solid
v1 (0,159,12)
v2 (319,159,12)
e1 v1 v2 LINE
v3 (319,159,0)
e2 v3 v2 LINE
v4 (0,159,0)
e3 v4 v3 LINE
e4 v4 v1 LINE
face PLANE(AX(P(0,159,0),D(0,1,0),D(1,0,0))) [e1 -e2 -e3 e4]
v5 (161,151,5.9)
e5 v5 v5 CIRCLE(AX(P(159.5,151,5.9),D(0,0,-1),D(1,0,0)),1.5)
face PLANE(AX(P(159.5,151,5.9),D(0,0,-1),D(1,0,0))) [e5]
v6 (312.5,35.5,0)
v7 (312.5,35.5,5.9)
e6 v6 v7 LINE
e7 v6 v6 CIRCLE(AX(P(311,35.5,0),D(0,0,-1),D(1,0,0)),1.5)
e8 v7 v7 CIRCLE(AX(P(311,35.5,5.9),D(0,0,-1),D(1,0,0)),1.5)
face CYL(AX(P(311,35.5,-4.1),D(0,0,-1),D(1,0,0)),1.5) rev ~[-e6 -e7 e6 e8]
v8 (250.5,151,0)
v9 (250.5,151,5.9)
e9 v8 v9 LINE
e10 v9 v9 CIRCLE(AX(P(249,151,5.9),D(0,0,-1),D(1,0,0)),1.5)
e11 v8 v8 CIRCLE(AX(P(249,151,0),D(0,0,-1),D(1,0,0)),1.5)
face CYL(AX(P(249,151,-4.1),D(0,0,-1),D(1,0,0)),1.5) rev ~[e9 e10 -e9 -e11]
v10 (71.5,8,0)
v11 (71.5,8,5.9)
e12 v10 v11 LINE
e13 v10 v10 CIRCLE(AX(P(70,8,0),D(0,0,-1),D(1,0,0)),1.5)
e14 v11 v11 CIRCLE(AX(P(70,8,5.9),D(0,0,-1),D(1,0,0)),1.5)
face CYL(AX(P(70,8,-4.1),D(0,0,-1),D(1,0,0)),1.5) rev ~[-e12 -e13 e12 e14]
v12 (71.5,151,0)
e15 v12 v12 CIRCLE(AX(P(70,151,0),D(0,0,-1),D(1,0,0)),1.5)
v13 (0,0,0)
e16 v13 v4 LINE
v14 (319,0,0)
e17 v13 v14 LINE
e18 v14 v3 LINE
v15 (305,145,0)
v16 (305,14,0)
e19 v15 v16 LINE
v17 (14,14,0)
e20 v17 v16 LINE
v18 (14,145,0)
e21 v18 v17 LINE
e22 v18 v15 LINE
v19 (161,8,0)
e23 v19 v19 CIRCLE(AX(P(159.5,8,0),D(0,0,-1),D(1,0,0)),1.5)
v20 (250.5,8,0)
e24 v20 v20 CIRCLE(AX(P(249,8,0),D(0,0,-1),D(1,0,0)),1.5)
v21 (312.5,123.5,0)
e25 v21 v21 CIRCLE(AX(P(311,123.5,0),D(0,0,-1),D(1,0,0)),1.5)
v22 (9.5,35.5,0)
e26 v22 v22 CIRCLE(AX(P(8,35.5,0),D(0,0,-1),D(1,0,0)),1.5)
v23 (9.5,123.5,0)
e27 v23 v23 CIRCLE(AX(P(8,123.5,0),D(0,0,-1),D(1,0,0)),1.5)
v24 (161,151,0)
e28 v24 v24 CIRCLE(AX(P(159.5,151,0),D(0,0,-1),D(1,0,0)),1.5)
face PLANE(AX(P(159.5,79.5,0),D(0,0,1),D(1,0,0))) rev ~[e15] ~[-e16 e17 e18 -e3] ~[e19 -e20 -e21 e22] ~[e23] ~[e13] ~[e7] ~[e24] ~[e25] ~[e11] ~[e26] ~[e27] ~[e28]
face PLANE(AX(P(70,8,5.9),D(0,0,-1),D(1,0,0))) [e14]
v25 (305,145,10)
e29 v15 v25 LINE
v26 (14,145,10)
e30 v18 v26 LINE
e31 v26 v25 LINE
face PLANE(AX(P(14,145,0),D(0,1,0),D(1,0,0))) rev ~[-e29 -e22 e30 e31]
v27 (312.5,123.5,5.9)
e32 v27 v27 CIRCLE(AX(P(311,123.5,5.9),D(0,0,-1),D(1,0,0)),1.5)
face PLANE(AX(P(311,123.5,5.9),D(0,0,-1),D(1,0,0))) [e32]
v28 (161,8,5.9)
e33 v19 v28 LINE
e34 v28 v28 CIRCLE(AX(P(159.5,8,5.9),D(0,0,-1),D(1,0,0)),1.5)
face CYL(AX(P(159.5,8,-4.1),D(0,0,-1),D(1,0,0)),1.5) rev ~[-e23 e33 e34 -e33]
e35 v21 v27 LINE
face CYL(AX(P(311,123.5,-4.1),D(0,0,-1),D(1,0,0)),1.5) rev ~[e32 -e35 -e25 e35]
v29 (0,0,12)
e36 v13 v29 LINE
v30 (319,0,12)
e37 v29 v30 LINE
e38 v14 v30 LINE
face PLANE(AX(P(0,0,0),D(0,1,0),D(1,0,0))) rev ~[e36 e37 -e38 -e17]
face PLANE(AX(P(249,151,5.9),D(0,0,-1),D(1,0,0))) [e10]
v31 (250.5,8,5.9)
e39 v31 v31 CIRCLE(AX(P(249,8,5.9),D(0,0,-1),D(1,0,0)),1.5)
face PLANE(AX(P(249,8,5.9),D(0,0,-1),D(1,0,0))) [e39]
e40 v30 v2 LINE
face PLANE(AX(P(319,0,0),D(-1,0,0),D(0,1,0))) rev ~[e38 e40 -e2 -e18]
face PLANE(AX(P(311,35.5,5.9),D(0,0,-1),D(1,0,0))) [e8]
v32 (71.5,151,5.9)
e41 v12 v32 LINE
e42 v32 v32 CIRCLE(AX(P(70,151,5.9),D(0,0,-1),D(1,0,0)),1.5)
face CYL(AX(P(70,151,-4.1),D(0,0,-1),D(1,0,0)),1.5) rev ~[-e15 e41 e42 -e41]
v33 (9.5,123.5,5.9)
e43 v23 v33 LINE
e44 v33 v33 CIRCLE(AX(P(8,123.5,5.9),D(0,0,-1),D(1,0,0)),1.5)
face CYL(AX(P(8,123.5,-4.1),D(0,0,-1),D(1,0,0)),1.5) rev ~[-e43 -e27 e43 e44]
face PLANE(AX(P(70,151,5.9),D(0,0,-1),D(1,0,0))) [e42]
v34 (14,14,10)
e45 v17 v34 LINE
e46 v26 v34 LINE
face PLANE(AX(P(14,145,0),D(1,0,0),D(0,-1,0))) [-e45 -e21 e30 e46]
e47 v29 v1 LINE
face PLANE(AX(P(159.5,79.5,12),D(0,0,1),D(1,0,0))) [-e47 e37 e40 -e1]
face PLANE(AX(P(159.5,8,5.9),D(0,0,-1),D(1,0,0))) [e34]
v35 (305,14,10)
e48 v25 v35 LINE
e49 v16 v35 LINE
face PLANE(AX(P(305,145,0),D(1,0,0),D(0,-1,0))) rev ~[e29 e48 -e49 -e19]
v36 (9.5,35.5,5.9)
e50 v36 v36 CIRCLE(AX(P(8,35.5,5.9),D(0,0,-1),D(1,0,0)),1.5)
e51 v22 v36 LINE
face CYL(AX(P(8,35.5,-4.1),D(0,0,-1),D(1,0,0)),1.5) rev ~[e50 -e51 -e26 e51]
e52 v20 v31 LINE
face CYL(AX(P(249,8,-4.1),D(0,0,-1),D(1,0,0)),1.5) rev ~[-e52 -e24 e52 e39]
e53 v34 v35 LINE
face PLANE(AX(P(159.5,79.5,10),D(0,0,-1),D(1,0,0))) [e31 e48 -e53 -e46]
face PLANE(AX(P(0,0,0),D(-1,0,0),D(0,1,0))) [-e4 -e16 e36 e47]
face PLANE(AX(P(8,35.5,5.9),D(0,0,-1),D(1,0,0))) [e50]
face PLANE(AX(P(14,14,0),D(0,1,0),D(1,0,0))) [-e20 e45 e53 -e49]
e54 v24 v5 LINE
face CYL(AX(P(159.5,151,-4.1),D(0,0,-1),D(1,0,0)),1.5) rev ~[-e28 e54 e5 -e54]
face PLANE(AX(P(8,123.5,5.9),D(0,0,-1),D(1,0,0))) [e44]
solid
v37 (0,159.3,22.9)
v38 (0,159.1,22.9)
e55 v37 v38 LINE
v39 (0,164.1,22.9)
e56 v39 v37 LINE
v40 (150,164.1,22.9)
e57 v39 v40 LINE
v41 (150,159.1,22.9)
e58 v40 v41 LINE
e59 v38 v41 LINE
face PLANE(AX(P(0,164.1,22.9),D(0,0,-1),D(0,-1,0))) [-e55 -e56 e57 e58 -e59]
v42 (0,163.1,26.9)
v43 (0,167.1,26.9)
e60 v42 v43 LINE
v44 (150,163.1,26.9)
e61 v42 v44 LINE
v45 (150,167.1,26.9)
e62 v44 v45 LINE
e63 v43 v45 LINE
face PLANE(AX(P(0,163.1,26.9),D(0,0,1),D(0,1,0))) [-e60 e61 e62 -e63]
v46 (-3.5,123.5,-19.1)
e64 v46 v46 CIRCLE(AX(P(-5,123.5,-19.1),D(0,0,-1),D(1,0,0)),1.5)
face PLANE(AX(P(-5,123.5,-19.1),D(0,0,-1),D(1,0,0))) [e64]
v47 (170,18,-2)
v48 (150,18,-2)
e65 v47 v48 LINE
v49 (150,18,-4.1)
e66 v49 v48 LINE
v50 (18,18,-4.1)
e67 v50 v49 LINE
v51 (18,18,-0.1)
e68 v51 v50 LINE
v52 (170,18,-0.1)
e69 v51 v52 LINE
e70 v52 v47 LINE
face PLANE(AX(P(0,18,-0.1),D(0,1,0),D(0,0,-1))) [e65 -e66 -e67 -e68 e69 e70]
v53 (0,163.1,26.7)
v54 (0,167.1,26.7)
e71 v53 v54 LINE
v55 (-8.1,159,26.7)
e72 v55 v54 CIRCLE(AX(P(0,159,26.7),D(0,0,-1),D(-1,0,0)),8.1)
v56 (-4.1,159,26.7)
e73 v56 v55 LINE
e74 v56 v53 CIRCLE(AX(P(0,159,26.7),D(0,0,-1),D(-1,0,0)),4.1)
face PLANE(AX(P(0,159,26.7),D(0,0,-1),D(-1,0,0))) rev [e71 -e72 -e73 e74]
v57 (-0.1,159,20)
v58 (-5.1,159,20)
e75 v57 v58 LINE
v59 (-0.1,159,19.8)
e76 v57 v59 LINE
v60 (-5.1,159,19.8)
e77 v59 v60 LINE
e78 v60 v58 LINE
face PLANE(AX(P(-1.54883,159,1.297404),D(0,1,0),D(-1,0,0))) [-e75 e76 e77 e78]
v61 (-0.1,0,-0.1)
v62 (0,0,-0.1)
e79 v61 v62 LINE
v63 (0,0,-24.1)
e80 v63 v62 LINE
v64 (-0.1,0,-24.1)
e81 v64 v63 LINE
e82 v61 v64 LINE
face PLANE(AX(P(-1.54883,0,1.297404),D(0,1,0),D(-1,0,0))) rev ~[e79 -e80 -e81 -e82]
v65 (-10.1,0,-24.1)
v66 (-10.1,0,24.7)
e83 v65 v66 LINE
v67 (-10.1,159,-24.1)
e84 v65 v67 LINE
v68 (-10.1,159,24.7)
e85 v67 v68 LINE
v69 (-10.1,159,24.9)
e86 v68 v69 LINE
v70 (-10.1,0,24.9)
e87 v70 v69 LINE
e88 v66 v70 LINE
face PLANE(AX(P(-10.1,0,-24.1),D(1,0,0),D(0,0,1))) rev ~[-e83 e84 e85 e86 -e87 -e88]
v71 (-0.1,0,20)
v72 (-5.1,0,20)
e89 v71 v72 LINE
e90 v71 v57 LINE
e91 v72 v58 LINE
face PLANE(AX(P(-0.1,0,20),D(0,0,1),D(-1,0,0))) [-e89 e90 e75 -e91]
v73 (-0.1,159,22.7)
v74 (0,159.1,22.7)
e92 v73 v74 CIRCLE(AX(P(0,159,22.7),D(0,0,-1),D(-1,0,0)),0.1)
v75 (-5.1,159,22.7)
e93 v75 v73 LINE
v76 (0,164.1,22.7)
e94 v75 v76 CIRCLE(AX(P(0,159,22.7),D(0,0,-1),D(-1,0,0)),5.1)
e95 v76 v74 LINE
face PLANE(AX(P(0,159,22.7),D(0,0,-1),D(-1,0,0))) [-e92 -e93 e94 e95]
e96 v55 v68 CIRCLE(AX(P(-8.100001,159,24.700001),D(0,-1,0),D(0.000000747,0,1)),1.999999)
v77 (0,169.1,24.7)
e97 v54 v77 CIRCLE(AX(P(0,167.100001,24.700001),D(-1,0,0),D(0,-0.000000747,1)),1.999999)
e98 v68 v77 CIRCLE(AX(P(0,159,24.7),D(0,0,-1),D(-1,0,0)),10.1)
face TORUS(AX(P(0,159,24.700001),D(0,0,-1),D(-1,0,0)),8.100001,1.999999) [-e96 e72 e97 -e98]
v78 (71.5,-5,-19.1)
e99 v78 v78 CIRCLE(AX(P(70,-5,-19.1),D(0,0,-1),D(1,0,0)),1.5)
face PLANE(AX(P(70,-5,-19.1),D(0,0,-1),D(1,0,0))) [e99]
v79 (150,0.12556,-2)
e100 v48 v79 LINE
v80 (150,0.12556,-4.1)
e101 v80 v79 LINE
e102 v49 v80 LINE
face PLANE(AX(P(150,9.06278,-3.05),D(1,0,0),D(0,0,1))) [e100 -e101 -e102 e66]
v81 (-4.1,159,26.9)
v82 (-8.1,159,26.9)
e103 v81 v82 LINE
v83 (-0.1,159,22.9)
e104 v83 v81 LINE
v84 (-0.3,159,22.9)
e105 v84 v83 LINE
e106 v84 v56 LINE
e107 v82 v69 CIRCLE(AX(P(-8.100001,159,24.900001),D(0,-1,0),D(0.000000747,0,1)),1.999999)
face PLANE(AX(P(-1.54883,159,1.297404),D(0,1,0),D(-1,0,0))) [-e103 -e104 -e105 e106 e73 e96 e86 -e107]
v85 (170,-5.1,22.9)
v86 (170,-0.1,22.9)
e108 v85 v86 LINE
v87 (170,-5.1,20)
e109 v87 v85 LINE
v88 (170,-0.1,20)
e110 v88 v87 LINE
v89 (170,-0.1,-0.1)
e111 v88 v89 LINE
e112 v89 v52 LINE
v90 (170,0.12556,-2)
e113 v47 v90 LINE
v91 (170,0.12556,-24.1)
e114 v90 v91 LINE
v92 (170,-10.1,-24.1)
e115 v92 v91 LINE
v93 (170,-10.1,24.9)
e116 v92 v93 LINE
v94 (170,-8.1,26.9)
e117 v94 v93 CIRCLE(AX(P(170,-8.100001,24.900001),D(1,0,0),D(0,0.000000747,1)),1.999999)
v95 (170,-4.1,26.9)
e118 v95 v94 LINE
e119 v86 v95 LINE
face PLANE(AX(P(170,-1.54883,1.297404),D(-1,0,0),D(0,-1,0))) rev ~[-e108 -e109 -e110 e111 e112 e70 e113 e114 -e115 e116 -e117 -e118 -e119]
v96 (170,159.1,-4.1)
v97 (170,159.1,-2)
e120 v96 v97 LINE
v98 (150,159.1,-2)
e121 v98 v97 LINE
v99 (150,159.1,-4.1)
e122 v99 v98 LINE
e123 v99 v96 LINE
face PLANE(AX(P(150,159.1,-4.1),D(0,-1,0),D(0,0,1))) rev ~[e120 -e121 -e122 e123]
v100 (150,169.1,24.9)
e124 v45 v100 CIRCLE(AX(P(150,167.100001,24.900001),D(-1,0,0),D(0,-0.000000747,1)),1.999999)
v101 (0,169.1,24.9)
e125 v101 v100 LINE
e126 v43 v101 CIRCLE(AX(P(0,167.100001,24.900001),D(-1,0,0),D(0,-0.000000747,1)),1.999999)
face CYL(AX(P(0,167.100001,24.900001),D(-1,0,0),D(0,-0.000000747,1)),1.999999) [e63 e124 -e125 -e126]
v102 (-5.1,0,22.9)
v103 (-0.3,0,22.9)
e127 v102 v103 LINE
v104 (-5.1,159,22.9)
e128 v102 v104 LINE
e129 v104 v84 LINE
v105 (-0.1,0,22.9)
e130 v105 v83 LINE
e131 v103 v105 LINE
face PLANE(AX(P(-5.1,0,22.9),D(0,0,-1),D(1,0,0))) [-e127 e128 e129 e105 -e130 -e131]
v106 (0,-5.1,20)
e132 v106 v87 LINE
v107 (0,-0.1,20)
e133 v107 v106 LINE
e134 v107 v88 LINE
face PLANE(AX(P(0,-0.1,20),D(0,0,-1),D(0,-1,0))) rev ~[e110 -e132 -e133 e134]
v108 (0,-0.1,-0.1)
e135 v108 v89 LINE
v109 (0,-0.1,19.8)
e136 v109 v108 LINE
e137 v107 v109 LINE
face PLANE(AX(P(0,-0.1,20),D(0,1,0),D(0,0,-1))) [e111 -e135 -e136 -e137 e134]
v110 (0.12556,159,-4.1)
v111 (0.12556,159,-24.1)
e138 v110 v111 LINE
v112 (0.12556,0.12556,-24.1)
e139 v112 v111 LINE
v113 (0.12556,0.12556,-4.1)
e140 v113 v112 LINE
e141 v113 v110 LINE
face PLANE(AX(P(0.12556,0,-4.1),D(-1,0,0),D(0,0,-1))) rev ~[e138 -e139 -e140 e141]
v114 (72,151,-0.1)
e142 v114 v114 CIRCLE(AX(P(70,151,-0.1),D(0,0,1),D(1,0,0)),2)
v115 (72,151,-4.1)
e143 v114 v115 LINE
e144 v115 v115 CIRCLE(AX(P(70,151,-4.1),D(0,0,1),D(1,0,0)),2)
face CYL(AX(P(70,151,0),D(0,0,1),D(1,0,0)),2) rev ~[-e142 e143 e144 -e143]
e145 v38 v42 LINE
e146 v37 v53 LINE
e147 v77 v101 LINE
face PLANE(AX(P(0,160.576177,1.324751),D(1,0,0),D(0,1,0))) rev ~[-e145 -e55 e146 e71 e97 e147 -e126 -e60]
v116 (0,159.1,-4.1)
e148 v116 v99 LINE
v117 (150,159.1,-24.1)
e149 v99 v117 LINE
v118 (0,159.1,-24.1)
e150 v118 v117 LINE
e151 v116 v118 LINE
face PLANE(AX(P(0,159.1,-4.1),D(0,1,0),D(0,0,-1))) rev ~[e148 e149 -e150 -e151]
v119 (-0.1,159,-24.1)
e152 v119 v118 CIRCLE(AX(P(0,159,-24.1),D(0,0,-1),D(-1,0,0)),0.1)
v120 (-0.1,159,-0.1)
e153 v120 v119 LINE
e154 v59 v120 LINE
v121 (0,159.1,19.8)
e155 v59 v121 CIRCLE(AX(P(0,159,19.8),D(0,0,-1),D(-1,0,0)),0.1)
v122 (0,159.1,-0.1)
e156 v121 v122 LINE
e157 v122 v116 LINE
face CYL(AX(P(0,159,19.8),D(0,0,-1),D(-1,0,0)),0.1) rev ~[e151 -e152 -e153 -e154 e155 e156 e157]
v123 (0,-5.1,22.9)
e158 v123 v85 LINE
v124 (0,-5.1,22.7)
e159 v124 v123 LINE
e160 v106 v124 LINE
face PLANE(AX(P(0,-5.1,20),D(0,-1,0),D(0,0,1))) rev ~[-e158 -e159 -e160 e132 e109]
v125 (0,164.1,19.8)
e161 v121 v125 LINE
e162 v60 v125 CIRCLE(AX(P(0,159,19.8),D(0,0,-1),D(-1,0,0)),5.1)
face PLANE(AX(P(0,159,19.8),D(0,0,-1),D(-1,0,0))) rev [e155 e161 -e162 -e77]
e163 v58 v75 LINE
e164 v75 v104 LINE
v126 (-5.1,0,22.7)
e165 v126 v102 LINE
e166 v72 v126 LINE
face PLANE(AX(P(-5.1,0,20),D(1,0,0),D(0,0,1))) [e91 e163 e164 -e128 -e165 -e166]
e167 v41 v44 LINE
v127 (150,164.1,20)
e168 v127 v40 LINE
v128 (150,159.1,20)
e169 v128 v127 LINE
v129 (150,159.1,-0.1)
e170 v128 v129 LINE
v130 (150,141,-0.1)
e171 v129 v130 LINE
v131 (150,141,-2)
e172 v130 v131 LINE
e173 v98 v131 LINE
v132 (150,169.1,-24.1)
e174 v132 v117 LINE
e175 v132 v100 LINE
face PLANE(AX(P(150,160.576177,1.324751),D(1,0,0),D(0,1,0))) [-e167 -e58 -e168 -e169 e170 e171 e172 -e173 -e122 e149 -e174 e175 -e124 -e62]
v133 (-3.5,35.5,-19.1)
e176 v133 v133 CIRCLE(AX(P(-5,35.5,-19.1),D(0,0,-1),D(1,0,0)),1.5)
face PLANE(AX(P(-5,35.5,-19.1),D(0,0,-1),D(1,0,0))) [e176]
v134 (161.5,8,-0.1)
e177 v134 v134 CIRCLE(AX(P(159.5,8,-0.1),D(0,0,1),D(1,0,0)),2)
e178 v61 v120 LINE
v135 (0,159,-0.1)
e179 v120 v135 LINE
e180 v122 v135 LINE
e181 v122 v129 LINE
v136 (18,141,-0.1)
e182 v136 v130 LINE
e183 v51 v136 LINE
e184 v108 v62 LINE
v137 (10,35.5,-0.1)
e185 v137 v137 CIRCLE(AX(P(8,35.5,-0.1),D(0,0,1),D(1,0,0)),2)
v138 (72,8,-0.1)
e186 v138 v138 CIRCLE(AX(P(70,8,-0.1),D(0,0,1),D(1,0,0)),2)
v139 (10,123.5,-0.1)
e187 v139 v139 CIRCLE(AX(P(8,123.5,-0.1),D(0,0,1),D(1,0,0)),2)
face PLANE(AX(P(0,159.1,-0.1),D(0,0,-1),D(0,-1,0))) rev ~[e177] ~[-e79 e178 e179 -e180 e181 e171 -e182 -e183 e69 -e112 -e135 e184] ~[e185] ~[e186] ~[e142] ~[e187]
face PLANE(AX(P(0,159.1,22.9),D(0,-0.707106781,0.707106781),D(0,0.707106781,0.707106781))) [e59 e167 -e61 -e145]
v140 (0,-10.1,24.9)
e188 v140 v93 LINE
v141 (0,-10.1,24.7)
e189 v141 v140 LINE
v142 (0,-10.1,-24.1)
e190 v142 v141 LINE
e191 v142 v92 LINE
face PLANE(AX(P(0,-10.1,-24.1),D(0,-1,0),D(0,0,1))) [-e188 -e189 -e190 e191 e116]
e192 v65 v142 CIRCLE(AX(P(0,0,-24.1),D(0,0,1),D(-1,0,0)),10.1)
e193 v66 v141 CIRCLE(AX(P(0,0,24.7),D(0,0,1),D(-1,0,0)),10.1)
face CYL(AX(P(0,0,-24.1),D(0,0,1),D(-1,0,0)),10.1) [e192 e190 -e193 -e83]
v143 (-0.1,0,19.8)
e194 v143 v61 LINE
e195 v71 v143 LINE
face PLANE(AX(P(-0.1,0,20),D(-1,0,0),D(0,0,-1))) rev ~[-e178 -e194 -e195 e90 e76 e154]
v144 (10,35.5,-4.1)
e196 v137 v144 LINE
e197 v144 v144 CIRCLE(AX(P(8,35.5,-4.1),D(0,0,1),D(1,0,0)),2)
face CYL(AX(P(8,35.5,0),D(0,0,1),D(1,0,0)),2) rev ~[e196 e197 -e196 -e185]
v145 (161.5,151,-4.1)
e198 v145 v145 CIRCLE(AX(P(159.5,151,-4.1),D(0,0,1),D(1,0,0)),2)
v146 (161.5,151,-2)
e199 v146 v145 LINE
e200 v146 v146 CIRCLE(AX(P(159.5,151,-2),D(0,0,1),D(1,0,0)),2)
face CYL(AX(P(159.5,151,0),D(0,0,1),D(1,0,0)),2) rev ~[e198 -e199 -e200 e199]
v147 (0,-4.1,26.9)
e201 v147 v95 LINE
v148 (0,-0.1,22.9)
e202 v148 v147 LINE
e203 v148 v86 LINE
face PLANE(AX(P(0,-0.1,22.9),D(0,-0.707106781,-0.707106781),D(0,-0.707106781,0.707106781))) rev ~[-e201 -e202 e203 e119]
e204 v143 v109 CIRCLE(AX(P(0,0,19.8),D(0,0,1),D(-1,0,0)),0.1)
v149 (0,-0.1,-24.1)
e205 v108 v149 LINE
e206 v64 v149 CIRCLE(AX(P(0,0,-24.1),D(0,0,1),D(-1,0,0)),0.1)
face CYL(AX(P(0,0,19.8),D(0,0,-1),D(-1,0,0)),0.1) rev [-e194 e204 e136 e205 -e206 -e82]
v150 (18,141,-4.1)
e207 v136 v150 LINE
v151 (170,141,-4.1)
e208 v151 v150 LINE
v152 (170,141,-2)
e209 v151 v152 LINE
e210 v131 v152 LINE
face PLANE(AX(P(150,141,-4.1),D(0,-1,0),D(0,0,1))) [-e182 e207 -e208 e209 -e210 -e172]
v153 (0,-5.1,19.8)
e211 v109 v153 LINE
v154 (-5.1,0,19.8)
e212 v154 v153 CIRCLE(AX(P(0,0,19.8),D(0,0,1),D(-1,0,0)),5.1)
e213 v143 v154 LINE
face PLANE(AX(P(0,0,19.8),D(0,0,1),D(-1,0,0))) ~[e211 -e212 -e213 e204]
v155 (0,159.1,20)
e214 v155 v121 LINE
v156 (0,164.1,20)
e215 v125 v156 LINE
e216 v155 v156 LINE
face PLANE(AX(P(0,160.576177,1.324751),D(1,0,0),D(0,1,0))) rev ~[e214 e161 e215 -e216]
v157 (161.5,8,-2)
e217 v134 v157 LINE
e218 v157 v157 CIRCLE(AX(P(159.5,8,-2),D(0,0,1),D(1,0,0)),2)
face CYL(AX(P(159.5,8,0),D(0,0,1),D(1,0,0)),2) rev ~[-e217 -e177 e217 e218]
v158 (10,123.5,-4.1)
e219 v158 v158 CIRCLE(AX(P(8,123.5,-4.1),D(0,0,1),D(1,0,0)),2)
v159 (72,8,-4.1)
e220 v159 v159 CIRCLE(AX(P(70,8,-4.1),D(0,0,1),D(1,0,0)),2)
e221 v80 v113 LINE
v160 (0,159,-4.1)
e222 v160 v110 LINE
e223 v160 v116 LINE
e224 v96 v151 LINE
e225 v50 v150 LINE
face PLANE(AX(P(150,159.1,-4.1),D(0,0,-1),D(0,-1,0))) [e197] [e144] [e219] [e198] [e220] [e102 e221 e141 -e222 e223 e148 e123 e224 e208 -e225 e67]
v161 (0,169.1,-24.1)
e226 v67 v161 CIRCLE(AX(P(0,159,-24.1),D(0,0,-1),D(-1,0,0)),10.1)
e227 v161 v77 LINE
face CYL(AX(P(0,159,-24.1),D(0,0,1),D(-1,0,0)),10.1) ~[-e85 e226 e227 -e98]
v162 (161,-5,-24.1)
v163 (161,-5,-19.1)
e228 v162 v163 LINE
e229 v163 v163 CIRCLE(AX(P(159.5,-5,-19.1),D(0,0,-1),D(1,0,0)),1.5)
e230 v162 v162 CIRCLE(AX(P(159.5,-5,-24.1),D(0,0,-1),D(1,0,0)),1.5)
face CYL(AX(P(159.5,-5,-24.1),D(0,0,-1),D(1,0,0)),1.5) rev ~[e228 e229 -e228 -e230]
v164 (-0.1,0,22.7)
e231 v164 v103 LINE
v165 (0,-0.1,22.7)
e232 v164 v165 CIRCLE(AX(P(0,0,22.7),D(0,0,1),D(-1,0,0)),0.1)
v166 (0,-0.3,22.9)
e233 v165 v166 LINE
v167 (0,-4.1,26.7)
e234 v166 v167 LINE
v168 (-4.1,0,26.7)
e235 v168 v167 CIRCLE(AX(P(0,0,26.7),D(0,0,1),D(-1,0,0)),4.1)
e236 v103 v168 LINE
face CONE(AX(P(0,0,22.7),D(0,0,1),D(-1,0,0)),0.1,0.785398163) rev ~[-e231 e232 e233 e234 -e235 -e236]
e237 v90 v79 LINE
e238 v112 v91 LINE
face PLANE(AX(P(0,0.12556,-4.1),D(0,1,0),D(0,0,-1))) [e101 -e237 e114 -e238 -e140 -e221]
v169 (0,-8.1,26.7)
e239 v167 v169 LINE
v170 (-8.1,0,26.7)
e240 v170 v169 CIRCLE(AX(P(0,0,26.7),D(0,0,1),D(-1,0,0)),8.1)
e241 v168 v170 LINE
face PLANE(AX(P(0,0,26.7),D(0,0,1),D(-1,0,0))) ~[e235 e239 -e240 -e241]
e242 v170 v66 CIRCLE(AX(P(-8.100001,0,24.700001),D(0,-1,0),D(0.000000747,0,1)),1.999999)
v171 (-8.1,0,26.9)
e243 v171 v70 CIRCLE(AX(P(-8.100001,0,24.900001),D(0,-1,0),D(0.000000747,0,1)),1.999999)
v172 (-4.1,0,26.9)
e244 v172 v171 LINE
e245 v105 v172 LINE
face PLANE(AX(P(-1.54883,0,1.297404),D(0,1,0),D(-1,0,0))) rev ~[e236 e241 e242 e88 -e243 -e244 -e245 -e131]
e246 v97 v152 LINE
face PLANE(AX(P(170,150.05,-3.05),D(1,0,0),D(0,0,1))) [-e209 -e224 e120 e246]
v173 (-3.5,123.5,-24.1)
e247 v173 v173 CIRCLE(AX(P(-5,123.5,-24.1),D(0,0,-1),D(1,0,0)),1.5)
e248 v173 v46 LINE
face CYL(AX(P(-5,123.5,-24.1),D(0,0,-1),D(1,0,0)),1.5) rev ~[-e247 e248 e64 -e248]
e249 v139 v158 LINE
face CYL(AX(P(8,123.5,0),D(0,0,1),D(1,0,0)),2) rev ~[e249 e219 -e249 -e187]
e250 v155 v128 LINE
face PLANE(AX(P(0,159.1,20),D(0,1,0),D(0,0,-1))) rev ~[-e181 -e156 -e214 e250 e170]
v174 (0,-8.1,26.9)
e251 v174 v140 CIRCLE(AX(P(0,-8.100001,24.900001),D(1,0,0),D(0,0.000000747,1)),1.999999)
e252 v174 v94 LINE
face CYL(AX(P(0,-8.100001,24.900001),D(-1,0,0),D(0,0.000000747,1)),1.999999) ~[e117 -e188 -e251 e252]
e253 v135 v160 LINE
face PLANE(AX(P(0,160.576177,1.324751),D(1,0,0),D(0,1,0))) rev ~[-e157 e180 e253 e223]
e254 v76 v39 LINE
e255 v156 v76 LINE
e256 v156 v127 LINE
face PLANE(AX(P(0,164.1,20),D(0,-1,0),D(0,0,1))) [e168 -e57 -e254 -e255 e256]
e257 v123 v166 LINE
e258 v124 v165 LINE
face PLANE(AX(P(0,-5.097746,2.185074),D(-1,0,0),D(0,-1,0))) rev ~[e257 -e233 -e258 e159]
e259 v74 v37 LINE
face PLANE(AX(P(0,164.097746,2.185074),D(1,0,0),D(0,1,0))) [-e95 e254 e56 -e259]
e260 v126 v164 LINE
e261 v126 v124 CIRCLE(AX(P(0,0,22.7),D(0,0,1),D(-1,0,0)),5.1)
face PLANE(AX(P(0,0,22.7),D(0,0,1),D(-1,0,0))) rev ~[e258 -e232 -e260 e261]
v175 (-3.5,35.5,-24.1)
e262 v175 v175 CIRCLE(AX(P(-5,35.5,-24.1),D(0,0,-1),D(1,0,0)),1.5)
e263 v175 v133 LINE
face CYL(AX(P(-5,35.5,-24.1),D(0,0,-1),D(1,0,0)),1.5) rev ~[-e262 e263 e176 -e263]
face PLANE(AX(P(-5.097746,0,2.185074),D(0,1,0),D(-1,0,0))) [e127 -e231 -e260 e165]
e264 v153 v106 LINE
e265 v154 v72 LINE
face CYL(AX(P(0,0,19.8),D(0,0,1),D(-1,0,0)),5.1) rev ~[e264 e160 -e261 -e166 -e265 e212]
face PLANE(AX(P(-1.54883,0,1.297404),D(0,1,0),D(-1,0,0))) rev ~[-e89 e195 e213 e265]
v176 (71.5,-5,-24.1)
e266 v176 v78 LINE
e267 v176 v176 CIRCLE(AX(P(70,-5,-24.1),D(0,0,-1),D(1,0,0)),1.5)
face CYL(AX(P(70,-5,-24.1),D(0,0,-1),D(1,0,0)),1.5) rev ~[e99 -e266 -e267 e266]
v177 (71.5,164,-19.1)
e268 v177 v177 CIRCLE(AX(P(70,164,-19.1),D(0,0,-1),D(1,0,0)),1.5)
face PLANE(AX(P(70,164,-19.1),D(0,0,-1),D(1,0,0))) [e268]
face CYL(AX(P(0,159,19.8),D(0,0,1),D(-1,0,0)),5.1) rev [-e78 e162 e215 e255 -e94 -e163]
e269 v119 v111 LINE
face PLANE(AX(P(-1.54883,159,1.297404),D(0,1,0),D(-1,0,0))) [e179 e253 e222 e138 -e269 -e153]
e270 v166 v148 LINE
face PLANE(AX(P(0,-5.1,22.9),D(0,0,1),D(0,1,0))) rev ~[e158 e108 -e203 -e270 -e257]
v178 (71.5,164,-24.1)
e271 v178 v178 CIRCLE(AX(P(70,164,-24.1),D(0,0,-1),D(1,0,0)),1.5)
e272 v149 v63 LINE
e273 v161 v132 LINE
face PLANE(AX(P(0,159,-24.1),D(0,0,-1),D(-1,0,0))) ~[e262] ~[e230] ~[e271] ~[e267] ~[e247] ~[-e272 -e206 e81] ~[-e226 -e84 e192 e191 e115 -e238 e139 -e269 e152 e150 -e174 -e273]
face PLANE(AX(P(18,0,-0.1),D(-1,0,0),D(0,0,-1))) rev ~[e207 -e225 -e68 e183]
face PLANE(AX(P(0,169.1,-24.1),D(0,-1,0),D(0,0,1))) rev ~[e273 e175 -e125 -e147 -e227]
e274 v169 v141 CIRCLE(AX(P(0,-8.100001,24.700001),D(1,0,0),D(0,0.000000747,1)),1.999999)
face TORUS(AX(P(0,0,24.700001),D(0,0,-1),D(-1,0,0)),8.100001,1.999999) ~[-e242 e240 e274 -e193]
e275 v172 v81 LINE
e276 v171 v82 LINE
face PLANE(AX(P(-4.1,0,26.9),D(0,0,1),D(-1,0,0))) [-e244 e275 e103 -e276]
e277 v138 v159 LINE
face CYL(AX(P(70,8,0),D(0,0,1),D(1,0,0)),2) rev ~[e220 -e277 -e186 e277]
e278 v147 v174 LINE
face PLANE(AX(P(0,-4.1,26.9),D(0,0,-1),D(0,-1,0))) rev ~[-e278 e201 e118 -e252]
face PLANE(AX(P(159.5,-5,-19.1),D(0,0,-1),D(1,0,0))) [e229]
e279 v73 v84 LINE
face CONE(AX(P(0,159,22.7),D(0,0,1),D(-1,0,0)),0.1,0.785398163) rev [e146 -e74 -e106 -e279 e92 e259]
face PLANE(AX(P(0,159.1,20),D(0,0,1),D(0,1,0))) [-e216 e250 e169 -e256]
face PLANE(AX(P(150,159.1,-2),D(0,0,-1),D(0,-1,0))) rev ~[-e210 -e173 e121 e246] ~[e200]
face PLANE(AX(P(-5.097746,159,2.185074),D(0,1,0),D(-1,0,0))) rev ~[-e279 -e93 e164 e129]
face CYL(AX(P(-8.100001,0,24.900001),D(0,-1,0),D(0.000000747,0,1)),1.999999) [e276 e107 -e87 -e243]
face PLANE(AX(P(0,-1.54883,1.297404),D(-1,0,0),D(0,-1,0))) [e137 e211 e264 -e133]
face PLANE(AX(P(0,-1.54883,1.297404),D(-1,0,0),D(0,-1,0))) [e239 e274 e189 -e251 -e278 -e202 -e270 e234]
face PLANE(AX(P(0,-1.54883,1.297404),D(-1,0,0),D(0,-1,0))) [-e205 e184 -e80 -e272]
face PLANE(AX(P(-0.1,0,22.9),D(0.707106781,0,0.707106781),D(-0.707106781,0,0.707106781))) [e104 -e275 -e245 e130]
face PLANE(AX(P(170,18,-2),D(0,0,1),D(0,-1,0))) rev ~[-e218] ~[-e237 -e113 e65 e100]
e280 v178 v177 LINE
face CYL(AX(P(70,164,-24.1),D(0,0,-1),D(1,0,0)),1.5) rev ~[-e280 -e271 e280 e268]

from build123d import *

# Parameters (mm, degrees)
SKETCH_W            = 319
SKETCH_H            = 159
PAD_DEPTH           = 12
SKETCH001_W         = 291
SKETCH001_H         = 131
POCKET_DEPTH        = 10
SKETCH002_R         = 1.5
POCKET001_DEPTH     = 10
PAD001_DEPTH        = 159
REVOLUTION_ANGLE    = 90
PAD004_DEPTH        = 170
REVOLUTION001_ANGLE = -90
PAD005_DEPTH        = 150
SKETCH020_W         = 2.1
SKETCH020_H         = 18.1
PAD006_DEPTH        = 20
SKETCH021_W         = 2.1
SKETCH021_H         = 17.87444
POCKET002_DEPTH     = 20
SKETCH022_R         = 1.5
POCKET003_DEPTH     = 5
SKETCH017_R         = 2
POCKET004_DEPTH     = 24.101


with BuildPart() as ecran002:
    # Sketch → Pad (new body)
    with BuildSketch(Plane.XY):
        with Locations((159.5, 79.5)):
            Rectangle(SKETCH_W, SKETCH_H)
    extrude(amount=PAD_DEPTH)

    # Sketch001 (on Face5 of Pad) → Pocket (cut)
    with BuildSketch(Plane(origin=(0, 0, 0), x_dir=(1, 0, 0), z_dir=(0, 0, -1))):
        with Locations((159.5, -79.5)):
            Rectangle(SKETCH001_W, SKETCH001_H)
    extrude(amount=-POCKET_DEPTH, mode=Mode.SUBTRACT)

    # Sketch002 (on Face44 of Pad004) → Pocket001 (cut)
    with BuildSketch(Plane(origin=(0, 0, -4.1), x_dir=(1, 0, 0), z_dir=(0, 0, -1))):
        with Locations((70, -8)):
            Circle(SKETCH002_R)
        with Locations((70, -151)):
            Circle(SKETCH002_R)
        with Locations((249, -8)):
            Circle(SKETCH002_R)
        with Locations((249, -151)):
            Circle(SKETCH002_R)
        with Locations((159.5, -8)):
            Circle(SKETCH002_R)
        with Locations((159.5, -151)):
            Circle(SKETCH002_R)
        with Locations((8, -35.5)):
            Circle(SKETCH002_R)
        with Locations((8, -123.5)):
            Circle(SKETCH002_R)
        with Locations((311, -35.5)):
            Circle(SKETCH002_R)
        with Locations((311, -123.5)):
            Circle(SKETCH002_R)
    extrude(amount=-POCKET001_DEPTH, mode=Mode.SUBTRACT)


with BuildPart() as encadrement:
    # Sketch010 → Pad001 (new body)
    with BuildSketch(Plane.XZ):
        with BuildLine():
            Line((-0.1, 20), (-0.1, -0.1))
            Line((-0.1, -0.1), (18, -0.1))
            Line((18, -0.1), (18, -4.1))
            Line((18, -4.1), (0.12556, -4.1))
            Line((0.12556, -4.1), (0.12556, -24.1))
            Line((-10.1, -24.1), (0.12556, -24.1))
            Line((-10.1, -24.1), (-10.1, 24.9))
            ThreePointArc((-8.1, 26.9), (-9.514214, 26.314214), (-10.1, 24.9))
            Line((-4.1, 26.9), (-8.1, 26.9))
            Line((-0.1, 22.9), (-4.1, 26.9))
            Line((-5.1, 22.9), (-0.1, 22.9))
            Line((-5.1, 20), (-5.1, 22.9))
            Line((-0.1, 20), (-5.1, 20))
        make_face()
    extrude(amount=-PAD001_DEPTH)

    # Sketch011 → Revolution (revolve)
    with BuildSketch(Plane.XZ):
        with BuildLine():
            Line((-0.1, 19.8), (-0.1, -24.1))
            Line((-0.1, -24.1), (-10.1, -24.1))
            Line((-10.1, -24.1), (-10.1, 24.7))
            ThreePointArc((-8.1, 26.7), (-9.514214, 26.114214), (-10.1, 24.7))
            Line((-4.1, 26.7), (-8.1, 26.7))
            Line((-0.1, 22.7), (-4.1, 26.7))
            Line((-5.1, 22.7), (-0.1, 22.7))
            Line((-5.1, 19.8), (-5.1, 22.7))
            Line((-0.1, 19.8), (-5.1, 19.8))
        make_face()
    revolve(axis=Axis((0, 0, 0), (0, 0, 1)), revolution_arc=REVOLUTION_ANGLE)

    # Sketch016 (on Face22 of Revolution) → Pad004 (join)
    with BuildSketch(Plane.YZ):
        with BuildLine():
            Line((-0.1, 20), (-0.1, -0.1))
            Line((-0.1, -0.1), (18, -0.1))
            Line((18, -0.1), (18, -4.1))
            Line((18, -4.1), (0.12556, -4.1))
            Line((0.12556, -4.1), (0.12556, -24.1))
            Line((-10.1, -24.1), (0.12556, -24.1))
            Line((-10.1, -24.1), (-10.1, 24.9))
            ThreePointArc((-8.1, 26.9), (-9.514214, 26.314214), (-10.1, 24.9))
            Line((-4.1, 26.9), (-8.1, 26.9))
            Line((-0.1, 22.9), (-4.1, 26.9))
            Line((-5.1, 22.9), (-0.1, 22.9))
            Line((-5.1, 20), (-5.1, 22.9))
            Line((-0.1, 20), (-5.1, 20))
        make_face()
    extrude(amount=PAD004_DEPTH)

    # Sketch018 (on Face15 of Pad001) → Revolution001 (revolve)
    with BuildSketch(Plane.XZ.offset(-159)):
        with BuildLine():
            Line((-0.1, 19.8), (-0.1, -24.1))
            Line((-0.1, -24.1), (-10.1, -24.1))
            Line((-10.1, -24.1), (-10.1, 24.7))
            ThreePointArc((-8.1, 26.7), (-9.514214, 26.114214), (-10.1, 24.7))
            Line((-4.1, 26.7), (-8.1, 26.7))
            Line((-0.1, 22.7), (-4.1, 26.7))
            Line((-5.1, 22.7), (-0.1, 22.7))
            Line((-5.1, 19.8), (-5.1, 22.7))
            Line((-0.1, 19.8), (-5.1, 19.8))
        make_face()
    revolve(axis=Axis((0, 159, 0), (0, 0, 1)), revolution_arc=REVOLUTION001_ANGLE)

    # Sketch019 (on Face24 of Revolution001) → Pad005 (join)
    with BuildSketch(Plane(origin=(0, 159, 0), x_dir=(0, -1, 0), z_dir=(-1, 0, 0))):
        with BuildLine():
            Line((-0.1, 20), (-0.1, -0.1))
            Line((-0.1, -0.1), (18, -0.1))
            Line((18, -0.1), (18, -4.1))
            Line((18, -4.1), (-0.1, -4.1))
            Line((-0.1, -4.1), (-0.1, -24.1))
            Line((-10.1, -24.1), (-0.1, -24.1))
            Line((-10.1, -24.1), (-10.1, 24.9))
            ThreePointArc((-8.1, 26.9), (-9.514214, 26.314214), (-10.1, 24.9))
            Line((-4.1, 26.9), (-8.1, 26.9))
            Line((-0.1, 22.9), (-4.1, 26.9))
            Line((-5.1, 22.9), (-0.1, 22.9))
            Line((-5.1, 20), (-5.1, 22.9))
            Line((-0.1, 20), (-5.1, 20))
        make_face()
    extrude(amount=-PAD005_DEPTH)

    # Sketch020 (on Face54 of Pad005) → Pad006 (join)
    with BuildSketch(Plane(origin=(150, 0, 0), x_dir=(0, 0, 1), z_dir=(1, 0, 0))):
        with Locations((-3.05, -150.05)):
            Rectangle(SKETCH020_W, SKETCH020_H)
    extrude(amount=PAD006_DEPTH)

    # Sketch021 (on Face50 of Pad006) → Pocket002 (cut)
    with BuildSketch(Plane(origin=(170, 0, 0), x_dir=(0, 0, 1), z_dir=(1, 0, 0))):
        with Locations((-3.05, -9.06278)):
            Rectangle(SKETCH021_W, SKETCH021_H)
    extrude(amount=-POCKET002_DEPTH, mode=Mode.SUBTRACT)

    # Sketch022 (on Face39 of Pocket002) → Pocket003 (cut)
    with BuildSketch(Plane(origin=(0, 0, -24.1), x_dir=(1, 0, 0), z_dir=(0, 0, -1))):
        with Locations((-5, -35.5)):
            Circle(SKETCH022_R)
        with Locations((-5, -123.5)):
            Circle(SKETCH022_R)
        with Locations((70, 5)):
            Circle(SKETCH022_R)
        with Locations((159.5, 5)):
            Circle(SKETCH022_R)
        with Locations((70, -164)):
            Circle(SKETCH022_R)
    extrude(amount=-POCKET003_DEPTH, mode=Mode.SUBTRACT)

    # Sketch017 → Pocket004 (cut, through all)
    with BuildSketch(Plane.XY):
        with Locations((70, 8)):
            Circle(SKETCH017_R)
        with Locations((8, 35.5)):
            Circle(SKETCH017_R)
        with Locations((8, 123.5)):
            Circle(SKETCH017_R)
        with Locations((70, 151)):
            Circle(SKETCH017_R)
        with Locations((159.5, 8)):
            Circle(SKETCH017_R)
        with Locations((159.5, 151)):
            Circle(SKETCH017_R)
    extrude(amount=-POCKET004_DEPTH, mode=Mode.SUBTRACT)


solid = Compound([ecran002.part, encadrement.part])
